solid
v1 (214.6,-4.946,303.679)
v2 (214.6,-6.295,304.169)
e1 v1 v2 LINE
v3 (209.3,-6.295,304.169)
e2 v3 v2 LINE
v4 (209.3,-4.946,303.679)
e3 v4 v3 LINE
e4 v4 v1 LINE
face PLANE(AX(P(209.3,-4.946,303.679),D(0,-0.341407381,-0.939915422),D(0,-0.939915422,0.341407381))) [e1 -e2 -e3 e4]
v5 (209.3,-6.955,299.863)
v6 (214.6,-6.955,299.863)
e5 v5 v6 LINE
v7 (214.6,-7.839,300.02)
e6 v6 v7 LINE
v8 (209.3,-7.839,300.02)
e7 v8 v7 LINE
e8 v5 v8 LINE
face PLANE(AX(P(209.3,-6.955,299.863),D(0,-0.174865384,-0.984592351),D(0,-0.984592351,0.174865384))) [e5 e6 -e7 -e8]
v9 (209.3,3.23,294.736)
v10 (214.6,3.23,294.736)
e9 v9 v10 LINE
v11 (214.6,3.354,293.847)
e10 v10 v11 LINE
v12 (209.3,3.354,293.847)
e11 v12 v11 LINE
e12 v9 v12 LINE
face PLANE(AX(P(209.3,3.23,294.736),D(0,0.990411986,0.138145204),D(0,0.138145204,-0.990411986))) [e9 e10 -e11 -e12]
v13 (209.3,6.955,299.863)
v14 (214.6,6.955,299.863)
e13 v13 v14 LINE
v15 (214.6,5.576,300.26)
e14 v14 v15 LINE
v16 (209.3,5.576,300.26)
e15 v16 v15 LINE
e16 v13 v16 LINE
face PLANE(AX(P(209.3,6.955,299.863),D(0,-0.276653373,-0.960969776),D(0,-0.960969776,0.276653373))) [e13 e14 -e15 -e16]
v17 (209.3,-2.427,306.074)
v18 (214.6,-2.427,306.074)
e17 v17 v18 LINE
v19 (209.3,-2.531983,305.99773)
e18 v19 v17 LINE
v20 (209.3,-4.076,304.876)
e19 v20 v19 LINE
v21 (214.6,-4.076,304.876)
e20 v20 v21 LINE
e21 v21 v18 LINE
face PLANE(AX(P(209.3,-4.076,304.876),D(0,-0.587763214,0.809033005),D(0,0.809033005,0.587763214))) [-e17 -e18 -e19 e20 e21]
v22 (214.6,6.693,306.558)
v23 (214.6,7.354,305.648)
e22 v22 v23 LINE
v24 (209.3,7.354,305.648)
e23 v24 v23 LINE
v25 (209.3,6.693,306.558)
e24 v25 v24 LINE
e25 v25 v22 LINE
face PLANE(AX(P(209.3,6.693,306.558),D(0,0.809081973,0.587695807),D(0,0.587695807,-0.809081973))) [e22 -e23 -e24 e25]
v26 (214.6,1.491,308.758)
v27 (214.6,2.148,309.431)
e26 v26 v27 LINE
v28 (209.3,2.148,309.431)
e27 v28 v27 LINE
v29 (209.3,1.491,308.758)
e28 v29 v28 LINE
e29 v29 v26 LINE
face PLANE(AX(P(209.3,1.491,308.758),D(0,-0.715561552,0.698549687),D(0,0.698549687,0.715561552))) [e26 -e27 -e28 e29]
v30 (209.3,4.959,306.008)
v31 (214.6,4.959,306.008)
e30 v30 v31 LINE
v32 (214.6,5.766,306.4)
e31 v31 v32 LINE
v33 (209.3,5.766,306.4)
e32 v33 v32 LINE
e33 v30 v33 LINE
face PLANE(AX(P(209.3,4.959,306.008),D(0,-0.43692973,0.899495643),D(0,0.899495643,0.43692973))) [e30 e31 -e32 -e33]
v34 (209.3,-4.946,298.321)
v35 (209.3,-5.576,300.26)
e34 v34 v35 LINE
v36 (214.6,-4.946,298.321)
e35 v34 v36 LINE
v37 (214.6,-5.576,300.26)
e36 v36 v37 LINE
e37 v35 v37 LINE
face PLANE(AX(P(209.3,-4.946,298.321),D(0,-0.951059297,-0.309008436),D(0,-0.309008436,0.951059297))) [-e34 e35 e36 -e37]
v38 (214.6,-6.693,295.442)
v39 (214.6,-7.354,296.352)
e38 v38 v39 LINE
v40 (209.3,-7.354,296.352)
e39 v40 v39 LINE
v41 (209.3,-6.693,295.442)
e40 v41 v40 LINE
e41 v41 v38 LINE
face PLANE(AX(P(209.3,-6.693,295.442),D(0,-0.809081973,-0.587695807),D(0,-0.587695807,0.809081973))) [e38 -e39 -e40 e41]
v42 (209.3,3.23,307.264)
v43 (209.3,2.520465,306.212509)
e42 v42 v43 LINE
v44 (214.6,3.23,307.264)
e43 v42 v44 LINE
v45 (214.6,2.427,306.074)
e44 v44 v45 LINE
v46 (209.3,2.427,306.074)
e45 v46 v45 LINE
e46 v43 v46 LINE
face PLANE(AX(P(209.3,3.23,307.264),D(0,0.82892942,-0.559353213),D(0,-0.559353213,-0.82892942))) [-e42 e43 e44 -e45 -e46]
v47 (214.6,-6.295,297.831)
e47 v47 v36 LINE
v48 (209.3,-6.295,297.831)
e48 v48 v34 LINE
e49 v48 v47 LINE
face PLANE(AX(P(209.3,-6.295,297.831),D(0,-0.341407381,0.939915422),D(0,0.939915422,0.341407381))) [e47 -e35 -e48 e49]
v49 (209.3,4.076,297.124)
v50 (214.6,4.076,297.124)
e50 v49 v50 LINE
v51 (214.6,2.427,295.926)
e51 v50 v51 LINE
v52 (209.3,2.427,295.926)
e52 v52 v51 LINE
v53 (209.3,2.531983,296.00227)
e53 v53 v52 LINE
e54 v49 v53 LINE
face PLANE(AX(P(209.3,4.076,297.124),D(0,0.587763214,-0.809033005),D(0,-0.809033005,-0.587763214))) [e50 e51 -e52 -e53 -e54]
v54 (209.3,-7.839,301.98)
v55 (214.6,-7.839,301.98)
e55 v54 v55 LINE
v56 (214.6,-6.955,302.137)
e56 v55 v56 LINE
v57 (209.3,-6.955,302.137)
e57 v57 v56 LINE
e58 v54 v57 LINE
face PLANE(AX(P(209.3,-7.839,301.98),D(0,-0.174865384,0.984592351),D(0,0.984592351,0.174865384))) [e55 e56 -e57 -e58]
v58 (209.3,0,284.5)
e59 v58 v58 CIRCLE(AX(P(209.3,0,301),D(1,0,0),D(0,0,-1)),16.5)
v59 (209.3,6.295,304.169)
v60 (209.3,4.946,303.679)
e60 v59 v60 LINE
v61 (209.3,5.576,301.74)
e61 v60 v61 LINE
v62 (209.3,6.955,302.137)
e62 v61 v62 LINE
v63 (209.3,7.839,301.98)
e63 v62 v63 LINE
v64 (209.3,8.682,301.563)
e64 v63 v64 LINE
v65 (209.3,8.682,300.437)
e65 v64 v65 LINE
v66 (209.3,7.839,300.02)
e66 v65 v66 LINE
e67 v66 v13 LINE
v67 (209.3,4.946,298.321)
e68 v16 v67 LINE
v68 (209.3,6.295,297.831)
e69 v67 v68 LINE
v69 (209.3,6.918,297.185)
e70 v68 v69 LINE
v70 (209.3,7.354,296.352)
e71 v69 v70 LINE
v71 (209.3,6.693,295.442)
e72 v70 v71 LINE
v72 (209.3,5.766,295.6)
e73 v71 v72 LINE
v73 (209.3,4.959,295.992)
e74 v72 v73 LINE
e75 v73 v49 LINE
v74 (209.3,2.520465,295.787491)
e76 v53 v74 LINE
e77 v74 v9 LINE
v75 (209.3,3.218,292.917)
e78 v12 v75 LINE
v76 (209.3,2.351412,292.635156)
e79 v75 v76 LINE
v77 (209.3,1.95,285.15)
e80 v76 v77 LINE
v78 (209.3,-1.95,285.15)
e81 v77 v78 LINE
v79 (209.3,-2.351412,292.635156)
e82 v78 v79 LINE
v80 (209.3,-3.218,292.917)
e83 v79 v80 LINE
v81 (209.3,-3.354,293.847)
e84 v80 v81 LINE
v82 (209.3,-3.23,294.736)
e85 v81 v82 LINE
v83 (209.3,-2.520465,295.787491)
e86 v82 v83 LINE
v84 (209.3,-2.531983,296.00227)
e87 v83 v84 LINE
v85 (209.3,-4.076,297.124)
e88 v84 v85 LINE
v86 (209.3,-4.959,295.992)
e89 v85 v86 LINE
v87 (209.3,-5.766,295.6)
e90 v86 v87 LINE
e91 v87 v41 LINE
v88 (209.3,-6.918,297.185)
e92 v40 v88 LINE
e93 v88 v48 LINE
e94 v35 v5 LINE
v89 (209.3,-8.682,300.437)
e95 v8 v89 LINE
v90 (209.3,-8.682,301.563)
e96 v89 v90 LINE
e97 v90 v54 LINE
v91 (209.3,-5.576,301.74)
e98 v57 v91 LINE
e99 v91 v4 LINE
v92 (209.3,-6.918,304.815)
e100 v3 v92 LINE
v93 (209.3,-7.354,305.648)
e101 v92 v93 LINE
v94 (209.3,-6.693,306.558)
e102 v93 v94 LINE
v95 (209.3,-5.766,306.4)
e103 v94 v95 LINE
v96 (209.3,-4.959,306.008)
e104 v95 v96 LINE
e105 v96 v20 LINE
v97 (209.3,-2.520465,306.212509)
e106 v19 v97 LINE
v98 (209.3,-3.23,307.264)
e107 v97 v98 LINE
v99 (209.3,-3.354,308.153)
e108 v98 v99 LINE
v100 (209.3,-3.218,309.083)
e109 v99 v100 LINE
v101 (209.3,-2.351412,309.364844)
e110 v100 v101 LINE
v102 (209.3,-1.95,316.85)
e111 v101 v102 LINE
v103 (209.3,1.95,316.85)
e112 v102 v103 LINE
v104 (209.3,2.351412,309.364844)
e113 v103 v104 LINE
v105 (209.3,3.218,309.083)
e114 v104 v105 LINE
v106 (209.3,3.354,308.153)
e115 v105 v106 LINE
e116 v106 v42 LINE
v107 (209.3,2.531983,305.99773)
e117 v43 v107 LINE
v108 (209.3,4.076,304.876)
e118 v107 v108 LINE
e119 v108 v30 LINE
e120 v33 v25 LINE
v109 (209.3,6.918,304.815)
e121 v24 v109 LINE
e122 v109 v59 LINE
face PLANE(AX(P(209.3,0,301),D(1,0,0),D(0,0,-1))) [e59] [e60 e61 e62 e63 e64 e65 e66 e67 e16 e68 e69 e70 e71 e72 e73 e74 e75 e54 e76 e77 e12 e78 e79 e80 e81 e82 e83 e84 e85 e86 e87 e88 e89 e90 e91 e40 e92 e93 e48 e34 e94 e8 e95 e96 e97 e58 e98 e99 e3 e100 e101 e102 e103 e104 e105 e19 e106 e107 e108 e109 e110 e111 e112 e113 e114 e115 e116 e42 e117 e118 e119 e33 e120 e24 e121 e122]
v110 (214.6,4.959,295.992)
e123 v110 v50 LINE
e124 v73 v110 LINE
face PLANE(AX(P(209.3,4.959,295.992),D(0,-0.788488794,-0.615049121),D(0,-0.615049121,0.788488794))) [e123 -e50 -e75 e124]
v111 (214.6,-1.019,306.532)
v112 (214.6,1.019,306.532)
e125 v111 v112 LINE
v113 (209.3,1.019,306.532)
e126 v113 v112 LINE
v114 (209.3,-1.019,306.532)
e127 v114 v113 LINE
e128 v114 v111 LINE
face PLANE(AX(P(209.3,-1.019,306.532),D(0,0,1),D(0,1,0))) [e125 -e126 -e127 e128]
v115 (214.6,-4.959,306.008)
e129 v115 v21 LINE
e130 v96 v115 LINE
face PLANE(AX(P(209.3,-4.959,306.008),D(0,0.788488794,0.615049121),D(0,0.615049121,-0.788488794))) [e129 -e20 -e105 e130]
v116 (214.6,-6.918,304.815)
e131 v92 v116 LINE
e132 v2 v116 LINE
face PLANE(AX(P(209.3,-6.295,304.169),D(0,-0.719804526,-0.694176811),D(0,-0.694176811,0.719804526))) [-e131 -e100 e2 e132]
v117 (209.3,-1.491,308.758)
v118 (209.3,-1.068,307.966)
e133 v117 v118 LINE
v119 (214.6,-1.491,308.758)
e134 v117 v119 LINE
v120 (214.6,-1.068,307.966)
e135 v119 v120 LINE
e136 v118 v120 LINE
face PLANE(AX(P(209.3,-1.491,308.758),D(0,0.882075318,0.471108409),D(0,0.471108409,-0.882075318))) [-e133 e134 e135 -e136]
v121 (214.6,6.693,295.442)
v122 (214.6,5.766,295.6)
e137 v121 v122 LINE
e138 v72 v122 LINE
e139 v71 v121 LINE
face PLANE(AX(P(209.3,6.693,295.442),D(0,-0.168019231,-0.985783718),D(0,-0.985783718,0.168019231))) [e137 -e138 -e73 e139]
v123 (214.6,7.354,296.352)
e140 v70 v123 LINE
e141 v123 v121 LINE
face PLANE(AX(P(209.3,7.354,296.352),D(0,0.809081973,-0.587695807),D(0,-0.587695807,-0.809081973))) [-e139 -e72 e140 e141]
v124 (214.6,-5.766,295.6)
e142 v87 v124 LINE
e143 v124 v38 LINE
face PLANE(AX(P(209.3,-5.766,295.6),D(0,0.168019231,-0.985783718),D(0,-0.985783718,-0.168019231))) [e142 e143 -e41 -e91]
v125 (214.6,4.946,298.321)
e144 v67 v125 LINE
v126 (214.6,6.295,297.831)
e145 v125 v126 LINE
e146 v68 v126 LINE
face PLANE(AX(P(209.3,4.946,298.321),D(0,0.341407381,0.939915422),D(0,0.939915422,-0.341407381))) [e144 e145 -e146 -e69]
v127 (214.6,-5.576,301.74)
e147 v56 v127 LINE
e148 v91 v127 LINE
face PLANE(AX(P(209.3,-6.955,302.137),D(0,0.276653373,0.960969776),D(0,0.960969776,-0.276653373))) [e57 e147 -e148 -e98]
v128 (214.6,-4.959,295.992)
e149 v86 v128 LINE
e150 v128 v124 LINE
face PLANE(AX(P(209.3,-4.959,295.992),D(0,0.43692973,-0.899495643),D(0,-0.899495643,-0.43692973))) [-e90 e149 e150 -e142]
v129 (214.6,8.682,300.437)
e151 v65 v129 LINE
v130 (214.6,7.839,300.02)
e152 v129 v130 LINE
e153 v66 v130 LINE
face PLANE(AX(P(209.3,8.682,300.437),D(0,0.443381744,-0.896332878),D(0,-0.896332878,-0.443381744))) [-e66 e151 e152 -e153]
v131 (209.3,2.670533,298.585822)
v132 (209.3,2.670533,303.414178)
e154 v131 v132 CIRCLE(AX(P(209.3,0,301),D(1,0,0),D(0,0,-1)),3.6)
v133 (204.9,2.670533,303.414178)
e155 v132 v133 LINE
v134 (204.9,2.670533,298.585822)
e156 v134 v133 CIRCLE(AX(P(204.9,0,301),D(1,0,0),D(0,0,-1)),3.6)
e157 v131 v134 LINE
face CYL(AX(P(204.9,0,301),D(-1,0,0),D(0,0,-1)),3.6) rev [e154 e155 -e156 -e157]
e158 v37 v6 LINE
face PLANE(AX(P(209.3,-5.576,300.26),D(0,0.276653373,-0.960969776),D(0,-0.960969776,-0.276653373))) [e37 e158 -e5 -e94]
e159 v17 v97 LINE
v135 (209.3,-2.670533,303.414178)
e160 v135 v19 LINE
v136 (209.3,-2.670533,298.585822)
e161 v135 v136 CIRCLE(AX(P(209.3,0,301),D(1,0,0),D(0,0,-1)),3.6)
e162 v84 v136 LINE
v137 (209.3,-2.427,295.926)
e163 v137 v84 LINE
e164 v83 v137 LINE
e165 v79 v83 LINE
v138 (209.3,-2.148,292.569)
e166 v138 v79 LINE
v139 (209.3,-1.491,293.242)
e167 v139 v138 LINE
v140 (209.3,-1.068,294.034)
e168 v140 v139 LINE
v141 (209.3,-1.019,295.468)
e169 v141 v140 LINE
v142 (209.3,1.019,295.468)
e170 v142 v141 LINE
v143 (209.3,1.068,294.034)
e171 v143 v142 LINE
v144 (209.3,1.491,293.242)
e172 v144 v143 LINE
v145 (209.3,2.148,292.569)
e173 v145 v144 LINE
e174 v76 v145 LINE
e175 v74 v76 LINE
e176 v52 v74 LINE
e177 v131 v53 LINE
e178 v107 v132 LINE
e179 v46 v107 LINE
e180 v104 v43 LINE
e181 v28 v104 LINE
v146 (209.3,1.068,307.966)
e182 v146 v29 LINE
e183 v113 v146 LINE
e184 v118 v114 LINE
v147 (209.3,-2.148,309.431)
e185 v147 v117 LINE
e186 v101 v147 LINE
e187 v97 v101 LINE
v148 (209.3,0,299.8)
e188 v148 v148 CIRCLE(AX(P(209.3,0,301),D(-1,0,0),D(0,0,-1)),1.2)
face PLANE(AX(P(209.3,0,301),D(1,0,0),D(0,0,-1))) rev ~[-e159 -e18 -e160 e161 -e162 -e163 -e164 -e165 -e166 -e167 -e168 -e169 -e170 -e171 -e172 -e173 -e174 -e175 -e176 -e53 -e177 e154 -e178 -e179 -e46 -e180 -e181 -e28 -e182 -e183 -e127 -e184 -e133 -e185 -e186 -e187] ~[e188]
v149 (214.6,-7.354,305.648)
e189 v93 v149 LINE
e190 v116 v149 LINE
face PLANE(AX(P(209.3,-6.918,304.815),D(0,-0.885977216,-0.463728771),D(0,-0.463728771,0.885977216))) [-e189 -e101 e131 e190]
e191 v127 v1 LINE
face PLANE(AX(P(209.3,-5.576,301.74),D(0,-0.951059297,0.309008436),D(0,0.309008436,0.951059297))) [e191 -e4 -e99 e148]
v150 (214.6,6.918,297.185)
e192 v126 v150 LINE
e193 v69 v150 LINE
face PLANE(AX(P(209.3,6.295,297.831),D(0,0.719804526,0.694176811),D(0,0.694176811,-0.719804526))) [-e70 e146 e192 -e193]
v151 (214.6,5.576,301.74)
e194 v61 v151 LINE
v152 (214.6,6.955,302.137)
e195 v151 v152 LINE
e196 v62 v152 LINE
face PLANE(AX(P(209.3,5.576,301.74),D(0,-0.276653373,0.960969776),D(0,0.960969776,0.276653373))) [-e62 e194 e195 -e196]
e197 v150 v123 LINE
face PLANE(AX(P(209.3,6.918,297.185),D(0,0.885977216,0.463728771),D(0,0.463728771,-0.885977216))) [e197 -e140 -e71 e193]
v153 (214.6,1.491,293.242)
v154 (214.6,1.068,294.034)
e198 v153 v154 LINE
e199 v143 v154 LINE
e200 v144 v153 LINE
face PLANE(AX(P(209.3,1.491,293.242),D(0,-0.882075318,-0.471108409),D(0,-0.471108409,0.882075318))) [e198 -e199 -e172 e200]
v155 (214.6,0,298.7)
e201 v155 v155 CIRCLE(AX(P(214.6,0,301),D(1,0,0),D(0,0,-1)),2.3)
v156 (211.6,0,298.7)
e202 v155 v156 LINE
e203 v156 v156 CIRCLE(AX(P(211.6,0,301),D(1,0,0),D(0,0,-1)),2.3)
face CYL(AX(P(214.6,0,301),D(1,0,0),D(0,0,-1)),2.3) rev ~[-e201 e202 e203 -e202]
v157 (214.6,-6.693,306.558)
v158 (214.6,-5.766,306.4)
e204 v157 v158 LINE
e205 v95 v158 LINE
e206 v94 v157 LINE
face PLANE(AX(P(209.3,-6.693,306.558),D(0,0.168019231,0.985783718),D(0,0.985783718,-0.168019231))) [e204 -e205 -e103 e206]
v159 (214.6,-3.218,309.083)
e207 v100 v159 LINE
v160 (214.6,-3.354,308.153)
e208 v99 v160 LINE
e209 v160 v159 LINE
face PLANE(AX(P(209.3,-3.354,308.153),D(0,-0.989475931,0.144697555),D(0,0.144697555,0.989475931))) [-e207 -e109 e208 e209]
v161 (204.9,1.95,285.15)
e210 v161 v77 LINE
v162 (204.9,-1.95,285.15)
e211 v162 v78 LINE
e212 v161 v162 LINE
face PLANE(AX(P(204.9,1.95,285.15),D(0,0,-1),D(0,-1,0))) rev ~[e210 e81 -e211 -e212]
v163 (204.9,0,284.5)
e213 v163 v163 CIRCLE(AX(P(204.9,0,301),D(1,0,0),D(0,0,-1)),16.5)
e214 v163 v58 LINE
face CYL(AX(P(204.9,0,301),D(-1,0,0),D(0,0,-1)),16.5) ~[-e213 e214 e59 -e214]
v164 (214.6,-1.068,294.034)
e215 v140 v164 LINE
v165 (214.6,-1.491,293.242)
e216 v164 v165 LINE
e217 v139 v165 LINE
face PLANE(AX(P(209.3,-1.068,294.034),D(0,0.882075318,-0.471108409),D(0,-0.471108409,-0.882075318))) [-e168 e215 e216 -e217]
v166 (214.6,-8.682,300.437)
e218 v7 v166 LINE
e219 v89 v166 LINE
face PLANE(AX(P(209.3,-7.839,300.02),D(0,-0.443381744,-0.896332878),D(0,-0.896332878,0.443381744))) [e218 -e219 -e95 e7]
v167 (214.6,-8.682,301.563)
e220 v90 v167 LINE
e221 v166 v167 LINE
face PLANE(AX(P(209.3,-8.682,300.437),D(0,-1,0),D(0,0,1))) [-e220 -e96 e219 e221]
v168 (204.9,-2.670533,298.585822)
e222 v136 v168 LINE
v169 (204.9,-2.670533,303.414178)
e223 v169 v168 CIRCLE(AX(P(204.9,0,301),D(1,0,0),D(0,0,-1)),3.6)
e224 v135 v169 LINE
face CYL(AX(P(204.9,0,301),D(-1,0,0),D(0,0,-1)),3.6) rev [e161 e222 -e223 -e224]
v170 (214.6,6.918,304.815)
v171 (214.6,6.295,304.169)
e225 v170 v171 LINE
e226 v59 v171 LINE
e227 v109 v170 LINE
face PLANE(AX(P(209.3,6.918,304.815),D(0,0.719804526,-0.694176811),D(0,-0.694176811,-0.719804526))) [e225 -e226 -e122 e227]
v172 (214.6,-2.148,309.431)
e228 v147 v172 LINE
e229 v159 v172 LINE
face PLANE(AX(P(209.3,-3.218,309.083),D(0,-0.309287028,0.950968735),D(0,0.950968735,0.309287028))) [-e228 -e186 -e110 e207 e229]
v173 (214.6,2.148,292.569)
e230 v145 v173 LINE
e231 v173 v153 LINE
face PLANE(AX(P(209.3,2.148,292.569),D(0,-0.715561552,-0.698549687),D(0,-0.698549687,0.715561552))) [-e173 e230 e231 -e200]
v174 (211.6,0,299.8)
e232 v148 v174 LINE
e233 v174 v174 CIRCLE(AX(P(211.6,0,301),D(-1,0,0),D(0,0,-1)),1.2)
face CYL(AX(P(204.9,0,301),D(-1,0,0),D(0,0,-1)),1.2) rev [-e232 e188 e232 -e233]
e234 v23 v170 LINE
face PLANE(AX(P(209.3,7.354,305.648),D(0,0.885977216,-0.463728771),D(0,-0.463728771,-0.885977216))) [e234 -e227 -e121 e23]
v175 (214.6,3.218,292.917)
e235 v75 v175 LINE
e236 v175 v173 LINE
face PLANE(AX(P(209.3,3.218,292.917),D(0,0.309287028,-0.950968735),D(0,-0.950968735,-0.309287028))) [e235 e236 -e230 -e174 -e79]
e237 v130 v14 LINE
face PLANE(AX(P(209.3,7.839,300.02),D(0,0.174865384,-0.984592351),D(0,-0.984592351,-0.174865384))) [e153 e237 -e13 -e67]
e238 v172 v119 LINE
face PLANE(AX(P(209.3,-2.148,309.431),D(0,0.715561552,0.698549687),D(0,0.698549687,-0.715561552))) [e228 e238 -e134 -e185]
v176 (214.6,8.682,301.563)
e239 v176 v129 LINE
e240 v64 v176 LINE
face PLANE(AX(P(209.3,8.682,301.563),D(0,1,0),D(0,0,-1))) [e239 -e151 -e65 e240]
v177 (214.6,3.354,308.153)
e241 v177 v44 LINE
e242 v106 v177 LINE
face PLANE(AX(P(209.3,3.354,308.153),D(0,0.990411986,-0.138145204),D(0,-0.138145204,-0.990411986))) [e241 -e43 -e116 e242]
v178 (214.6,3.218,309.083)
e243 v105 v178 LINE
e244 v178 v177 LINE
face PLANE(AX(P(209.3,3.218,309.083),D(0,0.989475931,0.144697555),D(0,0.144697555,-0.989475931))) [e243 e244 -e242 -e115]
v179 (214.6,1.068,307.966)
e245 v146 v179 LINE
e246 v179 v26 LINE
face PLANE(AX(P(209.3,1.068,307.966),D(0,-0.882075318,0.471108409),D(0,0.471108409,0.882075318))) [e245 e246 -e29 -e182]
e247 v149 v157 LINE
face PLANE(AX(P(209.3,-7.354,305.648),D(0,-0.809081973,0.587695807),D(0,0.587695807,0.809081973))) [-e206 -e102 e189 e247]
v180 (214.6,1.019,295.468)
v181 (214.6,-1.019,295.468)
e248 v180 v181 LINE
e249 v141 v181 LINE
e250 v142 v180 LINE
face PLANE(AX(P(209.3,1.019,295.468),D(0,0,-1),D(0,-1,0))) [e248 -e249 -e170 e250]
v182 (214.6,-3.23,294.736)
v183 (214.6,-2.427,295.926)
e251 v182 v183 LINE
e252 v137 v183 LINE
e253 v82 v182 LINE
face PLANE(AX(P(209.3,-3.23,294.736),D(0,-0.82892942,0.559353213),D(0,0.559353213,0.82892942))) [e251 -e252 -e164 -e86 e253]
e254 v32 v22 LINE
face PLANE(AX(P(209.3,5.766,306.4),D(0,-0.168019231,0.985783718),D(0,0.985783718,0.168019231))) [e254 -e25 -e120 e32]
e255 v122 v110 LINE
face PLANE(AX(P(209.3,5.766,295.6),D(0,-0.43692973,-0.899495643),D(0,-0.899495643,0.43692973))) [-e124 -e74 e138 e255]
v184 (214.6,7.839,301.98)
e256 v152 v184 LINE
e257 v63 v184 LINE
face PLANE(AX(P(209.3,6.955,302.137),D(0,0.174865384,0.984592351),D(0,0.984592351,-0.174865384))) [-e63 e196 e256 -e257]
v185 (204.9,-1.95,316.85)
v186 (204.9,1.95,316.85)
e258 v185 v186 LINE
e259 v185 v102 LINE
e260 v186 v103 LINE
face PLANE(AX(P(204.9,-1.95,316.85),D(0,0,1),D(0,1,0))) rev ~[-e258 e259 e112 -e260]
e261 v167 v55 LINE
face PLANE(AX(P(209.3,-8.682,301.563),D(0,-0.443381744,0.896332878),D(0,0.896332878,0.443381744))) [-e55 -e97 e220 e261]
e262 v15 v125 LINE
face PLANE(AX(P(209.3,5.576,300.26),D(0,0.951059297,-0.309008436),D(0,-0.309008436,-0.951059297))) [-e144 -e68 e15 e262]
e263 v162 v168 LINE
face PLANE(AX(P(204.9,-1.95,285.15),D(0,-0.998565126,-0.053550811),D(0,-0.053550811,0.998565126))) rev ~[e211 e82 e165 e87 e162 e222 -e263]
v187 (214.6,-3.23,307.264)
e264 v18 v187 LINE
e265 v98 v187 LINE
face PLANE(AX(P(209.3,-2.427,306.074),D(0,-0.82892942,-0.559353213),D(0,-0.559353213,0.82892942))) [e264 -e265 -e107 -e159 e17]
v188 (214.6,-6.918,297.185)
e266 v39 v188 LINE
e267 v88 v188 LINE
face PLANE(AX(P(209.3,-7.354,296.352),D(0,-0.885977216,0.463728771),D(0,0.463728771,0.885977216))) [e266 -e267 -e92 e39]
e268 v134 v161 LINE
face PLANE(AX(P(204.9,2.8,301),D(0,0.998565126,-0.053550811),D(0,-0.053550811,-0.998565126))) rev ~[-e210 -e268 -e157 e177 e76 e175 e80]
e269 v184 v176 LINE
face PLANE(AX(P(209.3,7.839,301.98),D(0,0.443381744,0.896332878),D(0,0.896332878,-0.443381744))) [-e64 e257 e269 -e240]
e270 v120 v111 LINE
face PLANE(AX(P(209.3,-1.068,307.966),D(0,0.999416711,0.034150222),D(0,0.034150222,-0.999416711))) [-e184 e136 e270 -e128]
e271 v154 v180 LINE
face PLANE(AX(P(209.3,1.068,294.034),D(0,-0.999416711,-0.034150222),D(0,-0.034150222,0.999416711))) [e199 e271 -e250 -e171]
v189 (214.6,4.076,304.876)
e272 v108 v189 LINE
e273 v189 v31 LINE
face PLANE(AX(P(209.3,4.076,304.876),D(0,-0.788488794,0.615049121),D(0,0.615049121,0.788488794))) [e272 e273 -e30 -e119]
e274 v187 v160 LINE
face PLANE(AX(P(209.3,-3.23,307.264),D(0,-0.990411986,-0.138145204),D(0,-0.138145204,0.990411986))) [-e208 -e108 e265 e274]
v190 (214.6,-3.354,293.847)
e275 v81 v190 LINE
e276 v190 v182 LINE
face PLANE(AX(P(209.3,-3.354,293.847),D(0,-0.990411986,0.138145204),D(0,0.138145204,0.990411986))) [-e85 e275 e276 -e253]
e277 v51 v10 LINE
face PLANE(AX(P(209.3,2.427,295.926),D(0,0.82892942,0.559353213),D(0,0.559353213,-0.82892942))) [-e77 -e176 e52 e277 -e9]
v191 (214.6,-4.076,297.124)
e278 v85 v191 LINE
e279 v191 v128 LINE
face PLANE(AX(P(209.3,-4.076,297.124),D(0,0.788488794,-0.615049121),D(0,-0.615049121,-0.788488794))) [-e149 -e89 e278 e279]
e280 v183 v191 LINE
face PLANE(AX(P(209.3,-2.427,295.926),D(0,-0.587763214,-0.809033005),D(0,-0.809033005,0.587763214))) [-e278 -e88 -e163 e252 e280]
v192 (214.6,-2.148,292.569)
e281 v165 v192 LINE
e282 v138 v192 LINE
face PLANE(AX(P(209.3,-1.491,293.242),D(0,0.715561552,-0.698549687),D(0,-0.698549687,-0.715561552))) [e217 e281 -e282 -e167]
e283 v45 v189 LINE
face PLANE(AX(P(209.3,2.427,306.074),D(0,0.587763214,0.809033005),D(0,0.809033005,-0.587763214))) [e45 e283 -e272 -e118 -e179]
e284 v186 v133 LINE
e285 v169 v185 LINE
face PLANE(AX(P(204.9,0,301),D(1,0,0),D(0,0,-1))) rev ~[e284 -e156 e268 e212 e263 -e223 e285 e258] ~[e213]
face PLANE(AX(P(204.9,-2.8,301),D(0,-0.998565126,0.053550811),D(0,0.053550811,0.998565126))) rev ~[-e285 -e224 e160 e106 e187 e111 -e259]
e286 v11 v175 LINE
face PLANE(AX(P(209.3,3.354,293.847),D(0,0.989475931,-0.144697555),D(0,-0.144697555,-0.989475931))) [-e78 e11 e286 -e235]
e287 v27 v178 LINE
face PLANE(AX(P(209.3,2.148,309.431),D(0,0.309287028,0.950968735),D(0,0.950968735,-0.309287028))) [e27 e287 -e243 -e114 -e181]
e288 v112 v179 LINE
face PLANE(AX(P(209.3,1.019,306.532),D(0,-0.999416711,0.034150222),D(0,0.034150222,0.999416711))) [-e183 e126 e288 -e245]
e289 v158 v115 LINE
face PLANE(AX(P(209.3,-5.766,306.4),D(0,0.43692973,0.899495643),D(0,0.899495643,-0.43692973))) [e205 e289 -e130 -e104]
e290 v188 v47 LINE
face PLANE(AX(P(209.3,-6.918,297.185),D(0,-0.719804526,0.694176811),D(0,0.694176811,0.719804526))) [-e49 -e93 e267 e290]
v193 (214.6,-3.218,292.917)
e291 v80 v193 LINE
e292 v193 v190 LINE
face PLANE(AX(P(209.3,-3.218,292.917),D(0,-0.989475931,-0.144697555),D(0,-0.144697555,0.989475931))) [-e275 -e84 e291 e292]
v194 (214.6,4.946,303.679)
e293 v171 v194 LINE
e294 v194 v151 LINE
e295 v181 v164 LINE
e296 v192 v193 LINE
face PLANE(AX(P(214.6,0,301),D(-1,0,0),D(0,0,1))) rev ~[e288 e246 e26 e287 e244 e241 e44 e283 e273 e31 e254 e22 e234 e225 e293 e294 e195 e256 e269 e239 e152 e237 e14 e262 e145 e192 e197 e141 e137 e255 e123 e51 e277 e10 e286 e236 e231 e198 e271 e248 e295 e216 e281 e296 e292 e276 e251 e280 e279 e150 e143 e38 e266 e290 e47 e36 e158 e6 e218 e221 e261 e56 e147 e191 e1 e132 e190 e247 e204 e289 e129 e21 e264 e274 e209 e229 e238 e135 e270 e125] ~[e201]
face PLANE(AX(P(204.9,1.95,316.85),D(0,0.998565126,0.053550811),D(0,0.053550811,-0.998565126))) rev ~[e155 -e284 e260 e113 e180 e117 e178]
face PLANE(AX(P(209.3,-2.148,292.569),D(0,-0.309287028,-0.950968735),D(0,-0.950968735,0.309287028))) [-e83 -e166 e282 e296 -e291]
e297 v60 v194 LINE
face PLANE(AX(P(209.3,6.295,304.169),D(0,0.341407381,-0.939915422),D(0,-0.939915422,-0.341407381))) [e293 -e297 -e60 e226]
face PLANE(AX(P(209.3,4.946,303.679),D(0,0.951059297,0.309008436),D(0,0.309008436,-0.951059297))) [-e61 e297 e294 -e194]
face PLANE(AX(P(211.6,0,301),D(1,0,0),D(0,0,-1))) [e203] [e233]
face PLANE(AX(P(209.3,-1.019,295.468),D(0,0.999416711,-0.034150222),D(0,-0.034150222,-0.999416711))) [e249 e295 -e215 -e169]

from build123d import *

# Parameters (mm, degrees)
SKETCH1_R           = 16.5
BOSS_EXTRUDE1_DEPTH = 4.4
BOSS_EXTRUDE2_DEPTH = 5.3
SKETCH3_R           = 3.6
CUT_EXTRUDE1_DEPTH  = 4.4
CUT_EXTRUDE2_DEPTH  = 4.4
SKETCH5_R           = 1.2
CUT_EXTRUDE3_DEPTH  = 319.076390196
SKETCH6_R           = 2.3
CUT_EXTRUDE4_DEPTH  = 3


with BuildPart() as part:
    # Sketch1 → Boss-Extrude1 (new body)
    with BuildSketch(Plane(origin=(204.9, 0, 0), x_dir=(0, 0, -1), z_dir=(1, 0, 0))):
        with Locations((-301, 0)):
            Circle(SKETCH1_R)
    extrude(amount=BOSS_EXTRUDE1_DEPTH)

    # Sketch2 → Boss-Extrude2 (add)
    with BuildSketch(Plane(origin=(209.3, 0, 0), x_dir=(0, 0, -1), z_dir=(1, 0, 0))):
        Polygon((-306.532, 1.019), (-307.966, 1.068), (-308.758, 1.491), (-309.431, 2.148), (-309.083, 3.218), (-308.153, 3.354), (-307.264, 3.23), (-306.074, 2.427), (-304.876, 4.076), (-306.008, 4.959), (-306.4, 5.766), (-306.558, 6.693), (-305.648, 7.354), (-304.815, 6.918), (-304.169, 6.295), (-303.679, 4.946), (-301.74, 5.576), (-302.137, 6.955), (-301.98, 7.839), (-301.563, 8.682), (-300.437, 8.682), (-300.02, 7.839), (-299.863, 6.955), (-300.26, 5.576), (-298.321, 4.946), (-297.831, 6.295), (-297.185, 6.918), (-296.352, 7.354), (-295.442, 6.693), (-295.6, 5.766), (-295.992, 4.959), (-297.124, 4.076), (-295.926, 2.427), (-294.736, 3.23), (-293.847, 3.354), (-292.917, 3.218), (-292.569, 2.148), (-293.242, 1.491), (-294.034, 1.068), (-295.468, 1.019), (-295.468, -1.019), (-294.034, -1.068), (-293.242, -1.491), (-292.569, -2.148), (-292.917, -3.218), (-293.847, -3.354), (-294.736, -3.23), (-295.926, -2.427), (-297.124, -4.076), (-295.992, -4.959), (-295.6, -5.766), (-295.442, -6.693), (-296.352, -7.354), (-297.185, -6.918), (-297.831, -6.295), (-298.321, -4.946), (-300.26, -5.576), (-299.863, -6.955), (-300.02, -7.839), (-300.437, -8.682), (-301.563, -8.682), (-301.98, -7.839), (-302.137, -6.955), (-301.74, -5.576), (-303.679, -4.946), (-304.169, -6.295), (-304.815, -6.918), (-305.648, -7.354), (-306.558, -6.693), (-306.4, -5.766), (-306.008, -4.959), (-304.876, -4.076), (-306.074, -2.427), (-307.264, -3.23), (-308.153, -3.354), (-309.083, -3.218), (-309.431, -2.148), (-308.758, -1.491), (-307.966, -1.068), (-306.532, -1.019), align=None)
    extrude(amount=BOSS_EXTRUDE2_DEPTH)

    # Sketch3 → Cut-Extrude1 (cut)
    with BuildSketch(Plane(origin=(204.9, 0, 0), x_dir=(0, 0, -1), z_dir=(1, 0, 0))):
        with Locations((-301, 0)):
            Circle(SKETCH3_R)
    extrude(amount=CUT_EXTRUDE1_DEPTH, mode=Mode.SUBTRACT)

    # Sketch4 → Cut-Extrude2 (cut)
    with BuildSketch(Plane(origin=(204.9, 0, 0), x_dir=(0, 0, -1), z_dir=(1, 0, 0))):
        Polygon((-285.15, -1.95), (-301, -2.8), (-316.85, -1.95), (-316.85, 1.95), (-301, 2.8), (-285.15, 1.95), align=None)
    extrude(amount=CUT_EXTRUDE2_DEPTH, mode=Mode.SUBTRACT)

    # Sketch5 → Cut-Extrude3 (cut, through all)
    with BuildSketch(Plane(origin=(204.9, 0, 0), x_dir=(0, 0, -1), z_dir=(1, 0, 0))):
        with Locations((-301, 0)):
            Circle(SKETCH5_R)
    extrude(amount=CUT_EXTRUDE3_DEPTH, mode=Mode.SUBTRACT)

    # Sketch6 → Cut-Extrude4 (cut)
    with BuildSketch(Plane(origin=(214.6, 0, 0), x_dir=(0, 0, -1), z_dir=(1, 0, 0))):
        with Locations((-301, 0)):
            Circle(SKETCH6_R)
    extrude(amount=-CUT_EXTRUDE4_DEPTH, mode=Mode.SUBTRACT)


solid = part.part
